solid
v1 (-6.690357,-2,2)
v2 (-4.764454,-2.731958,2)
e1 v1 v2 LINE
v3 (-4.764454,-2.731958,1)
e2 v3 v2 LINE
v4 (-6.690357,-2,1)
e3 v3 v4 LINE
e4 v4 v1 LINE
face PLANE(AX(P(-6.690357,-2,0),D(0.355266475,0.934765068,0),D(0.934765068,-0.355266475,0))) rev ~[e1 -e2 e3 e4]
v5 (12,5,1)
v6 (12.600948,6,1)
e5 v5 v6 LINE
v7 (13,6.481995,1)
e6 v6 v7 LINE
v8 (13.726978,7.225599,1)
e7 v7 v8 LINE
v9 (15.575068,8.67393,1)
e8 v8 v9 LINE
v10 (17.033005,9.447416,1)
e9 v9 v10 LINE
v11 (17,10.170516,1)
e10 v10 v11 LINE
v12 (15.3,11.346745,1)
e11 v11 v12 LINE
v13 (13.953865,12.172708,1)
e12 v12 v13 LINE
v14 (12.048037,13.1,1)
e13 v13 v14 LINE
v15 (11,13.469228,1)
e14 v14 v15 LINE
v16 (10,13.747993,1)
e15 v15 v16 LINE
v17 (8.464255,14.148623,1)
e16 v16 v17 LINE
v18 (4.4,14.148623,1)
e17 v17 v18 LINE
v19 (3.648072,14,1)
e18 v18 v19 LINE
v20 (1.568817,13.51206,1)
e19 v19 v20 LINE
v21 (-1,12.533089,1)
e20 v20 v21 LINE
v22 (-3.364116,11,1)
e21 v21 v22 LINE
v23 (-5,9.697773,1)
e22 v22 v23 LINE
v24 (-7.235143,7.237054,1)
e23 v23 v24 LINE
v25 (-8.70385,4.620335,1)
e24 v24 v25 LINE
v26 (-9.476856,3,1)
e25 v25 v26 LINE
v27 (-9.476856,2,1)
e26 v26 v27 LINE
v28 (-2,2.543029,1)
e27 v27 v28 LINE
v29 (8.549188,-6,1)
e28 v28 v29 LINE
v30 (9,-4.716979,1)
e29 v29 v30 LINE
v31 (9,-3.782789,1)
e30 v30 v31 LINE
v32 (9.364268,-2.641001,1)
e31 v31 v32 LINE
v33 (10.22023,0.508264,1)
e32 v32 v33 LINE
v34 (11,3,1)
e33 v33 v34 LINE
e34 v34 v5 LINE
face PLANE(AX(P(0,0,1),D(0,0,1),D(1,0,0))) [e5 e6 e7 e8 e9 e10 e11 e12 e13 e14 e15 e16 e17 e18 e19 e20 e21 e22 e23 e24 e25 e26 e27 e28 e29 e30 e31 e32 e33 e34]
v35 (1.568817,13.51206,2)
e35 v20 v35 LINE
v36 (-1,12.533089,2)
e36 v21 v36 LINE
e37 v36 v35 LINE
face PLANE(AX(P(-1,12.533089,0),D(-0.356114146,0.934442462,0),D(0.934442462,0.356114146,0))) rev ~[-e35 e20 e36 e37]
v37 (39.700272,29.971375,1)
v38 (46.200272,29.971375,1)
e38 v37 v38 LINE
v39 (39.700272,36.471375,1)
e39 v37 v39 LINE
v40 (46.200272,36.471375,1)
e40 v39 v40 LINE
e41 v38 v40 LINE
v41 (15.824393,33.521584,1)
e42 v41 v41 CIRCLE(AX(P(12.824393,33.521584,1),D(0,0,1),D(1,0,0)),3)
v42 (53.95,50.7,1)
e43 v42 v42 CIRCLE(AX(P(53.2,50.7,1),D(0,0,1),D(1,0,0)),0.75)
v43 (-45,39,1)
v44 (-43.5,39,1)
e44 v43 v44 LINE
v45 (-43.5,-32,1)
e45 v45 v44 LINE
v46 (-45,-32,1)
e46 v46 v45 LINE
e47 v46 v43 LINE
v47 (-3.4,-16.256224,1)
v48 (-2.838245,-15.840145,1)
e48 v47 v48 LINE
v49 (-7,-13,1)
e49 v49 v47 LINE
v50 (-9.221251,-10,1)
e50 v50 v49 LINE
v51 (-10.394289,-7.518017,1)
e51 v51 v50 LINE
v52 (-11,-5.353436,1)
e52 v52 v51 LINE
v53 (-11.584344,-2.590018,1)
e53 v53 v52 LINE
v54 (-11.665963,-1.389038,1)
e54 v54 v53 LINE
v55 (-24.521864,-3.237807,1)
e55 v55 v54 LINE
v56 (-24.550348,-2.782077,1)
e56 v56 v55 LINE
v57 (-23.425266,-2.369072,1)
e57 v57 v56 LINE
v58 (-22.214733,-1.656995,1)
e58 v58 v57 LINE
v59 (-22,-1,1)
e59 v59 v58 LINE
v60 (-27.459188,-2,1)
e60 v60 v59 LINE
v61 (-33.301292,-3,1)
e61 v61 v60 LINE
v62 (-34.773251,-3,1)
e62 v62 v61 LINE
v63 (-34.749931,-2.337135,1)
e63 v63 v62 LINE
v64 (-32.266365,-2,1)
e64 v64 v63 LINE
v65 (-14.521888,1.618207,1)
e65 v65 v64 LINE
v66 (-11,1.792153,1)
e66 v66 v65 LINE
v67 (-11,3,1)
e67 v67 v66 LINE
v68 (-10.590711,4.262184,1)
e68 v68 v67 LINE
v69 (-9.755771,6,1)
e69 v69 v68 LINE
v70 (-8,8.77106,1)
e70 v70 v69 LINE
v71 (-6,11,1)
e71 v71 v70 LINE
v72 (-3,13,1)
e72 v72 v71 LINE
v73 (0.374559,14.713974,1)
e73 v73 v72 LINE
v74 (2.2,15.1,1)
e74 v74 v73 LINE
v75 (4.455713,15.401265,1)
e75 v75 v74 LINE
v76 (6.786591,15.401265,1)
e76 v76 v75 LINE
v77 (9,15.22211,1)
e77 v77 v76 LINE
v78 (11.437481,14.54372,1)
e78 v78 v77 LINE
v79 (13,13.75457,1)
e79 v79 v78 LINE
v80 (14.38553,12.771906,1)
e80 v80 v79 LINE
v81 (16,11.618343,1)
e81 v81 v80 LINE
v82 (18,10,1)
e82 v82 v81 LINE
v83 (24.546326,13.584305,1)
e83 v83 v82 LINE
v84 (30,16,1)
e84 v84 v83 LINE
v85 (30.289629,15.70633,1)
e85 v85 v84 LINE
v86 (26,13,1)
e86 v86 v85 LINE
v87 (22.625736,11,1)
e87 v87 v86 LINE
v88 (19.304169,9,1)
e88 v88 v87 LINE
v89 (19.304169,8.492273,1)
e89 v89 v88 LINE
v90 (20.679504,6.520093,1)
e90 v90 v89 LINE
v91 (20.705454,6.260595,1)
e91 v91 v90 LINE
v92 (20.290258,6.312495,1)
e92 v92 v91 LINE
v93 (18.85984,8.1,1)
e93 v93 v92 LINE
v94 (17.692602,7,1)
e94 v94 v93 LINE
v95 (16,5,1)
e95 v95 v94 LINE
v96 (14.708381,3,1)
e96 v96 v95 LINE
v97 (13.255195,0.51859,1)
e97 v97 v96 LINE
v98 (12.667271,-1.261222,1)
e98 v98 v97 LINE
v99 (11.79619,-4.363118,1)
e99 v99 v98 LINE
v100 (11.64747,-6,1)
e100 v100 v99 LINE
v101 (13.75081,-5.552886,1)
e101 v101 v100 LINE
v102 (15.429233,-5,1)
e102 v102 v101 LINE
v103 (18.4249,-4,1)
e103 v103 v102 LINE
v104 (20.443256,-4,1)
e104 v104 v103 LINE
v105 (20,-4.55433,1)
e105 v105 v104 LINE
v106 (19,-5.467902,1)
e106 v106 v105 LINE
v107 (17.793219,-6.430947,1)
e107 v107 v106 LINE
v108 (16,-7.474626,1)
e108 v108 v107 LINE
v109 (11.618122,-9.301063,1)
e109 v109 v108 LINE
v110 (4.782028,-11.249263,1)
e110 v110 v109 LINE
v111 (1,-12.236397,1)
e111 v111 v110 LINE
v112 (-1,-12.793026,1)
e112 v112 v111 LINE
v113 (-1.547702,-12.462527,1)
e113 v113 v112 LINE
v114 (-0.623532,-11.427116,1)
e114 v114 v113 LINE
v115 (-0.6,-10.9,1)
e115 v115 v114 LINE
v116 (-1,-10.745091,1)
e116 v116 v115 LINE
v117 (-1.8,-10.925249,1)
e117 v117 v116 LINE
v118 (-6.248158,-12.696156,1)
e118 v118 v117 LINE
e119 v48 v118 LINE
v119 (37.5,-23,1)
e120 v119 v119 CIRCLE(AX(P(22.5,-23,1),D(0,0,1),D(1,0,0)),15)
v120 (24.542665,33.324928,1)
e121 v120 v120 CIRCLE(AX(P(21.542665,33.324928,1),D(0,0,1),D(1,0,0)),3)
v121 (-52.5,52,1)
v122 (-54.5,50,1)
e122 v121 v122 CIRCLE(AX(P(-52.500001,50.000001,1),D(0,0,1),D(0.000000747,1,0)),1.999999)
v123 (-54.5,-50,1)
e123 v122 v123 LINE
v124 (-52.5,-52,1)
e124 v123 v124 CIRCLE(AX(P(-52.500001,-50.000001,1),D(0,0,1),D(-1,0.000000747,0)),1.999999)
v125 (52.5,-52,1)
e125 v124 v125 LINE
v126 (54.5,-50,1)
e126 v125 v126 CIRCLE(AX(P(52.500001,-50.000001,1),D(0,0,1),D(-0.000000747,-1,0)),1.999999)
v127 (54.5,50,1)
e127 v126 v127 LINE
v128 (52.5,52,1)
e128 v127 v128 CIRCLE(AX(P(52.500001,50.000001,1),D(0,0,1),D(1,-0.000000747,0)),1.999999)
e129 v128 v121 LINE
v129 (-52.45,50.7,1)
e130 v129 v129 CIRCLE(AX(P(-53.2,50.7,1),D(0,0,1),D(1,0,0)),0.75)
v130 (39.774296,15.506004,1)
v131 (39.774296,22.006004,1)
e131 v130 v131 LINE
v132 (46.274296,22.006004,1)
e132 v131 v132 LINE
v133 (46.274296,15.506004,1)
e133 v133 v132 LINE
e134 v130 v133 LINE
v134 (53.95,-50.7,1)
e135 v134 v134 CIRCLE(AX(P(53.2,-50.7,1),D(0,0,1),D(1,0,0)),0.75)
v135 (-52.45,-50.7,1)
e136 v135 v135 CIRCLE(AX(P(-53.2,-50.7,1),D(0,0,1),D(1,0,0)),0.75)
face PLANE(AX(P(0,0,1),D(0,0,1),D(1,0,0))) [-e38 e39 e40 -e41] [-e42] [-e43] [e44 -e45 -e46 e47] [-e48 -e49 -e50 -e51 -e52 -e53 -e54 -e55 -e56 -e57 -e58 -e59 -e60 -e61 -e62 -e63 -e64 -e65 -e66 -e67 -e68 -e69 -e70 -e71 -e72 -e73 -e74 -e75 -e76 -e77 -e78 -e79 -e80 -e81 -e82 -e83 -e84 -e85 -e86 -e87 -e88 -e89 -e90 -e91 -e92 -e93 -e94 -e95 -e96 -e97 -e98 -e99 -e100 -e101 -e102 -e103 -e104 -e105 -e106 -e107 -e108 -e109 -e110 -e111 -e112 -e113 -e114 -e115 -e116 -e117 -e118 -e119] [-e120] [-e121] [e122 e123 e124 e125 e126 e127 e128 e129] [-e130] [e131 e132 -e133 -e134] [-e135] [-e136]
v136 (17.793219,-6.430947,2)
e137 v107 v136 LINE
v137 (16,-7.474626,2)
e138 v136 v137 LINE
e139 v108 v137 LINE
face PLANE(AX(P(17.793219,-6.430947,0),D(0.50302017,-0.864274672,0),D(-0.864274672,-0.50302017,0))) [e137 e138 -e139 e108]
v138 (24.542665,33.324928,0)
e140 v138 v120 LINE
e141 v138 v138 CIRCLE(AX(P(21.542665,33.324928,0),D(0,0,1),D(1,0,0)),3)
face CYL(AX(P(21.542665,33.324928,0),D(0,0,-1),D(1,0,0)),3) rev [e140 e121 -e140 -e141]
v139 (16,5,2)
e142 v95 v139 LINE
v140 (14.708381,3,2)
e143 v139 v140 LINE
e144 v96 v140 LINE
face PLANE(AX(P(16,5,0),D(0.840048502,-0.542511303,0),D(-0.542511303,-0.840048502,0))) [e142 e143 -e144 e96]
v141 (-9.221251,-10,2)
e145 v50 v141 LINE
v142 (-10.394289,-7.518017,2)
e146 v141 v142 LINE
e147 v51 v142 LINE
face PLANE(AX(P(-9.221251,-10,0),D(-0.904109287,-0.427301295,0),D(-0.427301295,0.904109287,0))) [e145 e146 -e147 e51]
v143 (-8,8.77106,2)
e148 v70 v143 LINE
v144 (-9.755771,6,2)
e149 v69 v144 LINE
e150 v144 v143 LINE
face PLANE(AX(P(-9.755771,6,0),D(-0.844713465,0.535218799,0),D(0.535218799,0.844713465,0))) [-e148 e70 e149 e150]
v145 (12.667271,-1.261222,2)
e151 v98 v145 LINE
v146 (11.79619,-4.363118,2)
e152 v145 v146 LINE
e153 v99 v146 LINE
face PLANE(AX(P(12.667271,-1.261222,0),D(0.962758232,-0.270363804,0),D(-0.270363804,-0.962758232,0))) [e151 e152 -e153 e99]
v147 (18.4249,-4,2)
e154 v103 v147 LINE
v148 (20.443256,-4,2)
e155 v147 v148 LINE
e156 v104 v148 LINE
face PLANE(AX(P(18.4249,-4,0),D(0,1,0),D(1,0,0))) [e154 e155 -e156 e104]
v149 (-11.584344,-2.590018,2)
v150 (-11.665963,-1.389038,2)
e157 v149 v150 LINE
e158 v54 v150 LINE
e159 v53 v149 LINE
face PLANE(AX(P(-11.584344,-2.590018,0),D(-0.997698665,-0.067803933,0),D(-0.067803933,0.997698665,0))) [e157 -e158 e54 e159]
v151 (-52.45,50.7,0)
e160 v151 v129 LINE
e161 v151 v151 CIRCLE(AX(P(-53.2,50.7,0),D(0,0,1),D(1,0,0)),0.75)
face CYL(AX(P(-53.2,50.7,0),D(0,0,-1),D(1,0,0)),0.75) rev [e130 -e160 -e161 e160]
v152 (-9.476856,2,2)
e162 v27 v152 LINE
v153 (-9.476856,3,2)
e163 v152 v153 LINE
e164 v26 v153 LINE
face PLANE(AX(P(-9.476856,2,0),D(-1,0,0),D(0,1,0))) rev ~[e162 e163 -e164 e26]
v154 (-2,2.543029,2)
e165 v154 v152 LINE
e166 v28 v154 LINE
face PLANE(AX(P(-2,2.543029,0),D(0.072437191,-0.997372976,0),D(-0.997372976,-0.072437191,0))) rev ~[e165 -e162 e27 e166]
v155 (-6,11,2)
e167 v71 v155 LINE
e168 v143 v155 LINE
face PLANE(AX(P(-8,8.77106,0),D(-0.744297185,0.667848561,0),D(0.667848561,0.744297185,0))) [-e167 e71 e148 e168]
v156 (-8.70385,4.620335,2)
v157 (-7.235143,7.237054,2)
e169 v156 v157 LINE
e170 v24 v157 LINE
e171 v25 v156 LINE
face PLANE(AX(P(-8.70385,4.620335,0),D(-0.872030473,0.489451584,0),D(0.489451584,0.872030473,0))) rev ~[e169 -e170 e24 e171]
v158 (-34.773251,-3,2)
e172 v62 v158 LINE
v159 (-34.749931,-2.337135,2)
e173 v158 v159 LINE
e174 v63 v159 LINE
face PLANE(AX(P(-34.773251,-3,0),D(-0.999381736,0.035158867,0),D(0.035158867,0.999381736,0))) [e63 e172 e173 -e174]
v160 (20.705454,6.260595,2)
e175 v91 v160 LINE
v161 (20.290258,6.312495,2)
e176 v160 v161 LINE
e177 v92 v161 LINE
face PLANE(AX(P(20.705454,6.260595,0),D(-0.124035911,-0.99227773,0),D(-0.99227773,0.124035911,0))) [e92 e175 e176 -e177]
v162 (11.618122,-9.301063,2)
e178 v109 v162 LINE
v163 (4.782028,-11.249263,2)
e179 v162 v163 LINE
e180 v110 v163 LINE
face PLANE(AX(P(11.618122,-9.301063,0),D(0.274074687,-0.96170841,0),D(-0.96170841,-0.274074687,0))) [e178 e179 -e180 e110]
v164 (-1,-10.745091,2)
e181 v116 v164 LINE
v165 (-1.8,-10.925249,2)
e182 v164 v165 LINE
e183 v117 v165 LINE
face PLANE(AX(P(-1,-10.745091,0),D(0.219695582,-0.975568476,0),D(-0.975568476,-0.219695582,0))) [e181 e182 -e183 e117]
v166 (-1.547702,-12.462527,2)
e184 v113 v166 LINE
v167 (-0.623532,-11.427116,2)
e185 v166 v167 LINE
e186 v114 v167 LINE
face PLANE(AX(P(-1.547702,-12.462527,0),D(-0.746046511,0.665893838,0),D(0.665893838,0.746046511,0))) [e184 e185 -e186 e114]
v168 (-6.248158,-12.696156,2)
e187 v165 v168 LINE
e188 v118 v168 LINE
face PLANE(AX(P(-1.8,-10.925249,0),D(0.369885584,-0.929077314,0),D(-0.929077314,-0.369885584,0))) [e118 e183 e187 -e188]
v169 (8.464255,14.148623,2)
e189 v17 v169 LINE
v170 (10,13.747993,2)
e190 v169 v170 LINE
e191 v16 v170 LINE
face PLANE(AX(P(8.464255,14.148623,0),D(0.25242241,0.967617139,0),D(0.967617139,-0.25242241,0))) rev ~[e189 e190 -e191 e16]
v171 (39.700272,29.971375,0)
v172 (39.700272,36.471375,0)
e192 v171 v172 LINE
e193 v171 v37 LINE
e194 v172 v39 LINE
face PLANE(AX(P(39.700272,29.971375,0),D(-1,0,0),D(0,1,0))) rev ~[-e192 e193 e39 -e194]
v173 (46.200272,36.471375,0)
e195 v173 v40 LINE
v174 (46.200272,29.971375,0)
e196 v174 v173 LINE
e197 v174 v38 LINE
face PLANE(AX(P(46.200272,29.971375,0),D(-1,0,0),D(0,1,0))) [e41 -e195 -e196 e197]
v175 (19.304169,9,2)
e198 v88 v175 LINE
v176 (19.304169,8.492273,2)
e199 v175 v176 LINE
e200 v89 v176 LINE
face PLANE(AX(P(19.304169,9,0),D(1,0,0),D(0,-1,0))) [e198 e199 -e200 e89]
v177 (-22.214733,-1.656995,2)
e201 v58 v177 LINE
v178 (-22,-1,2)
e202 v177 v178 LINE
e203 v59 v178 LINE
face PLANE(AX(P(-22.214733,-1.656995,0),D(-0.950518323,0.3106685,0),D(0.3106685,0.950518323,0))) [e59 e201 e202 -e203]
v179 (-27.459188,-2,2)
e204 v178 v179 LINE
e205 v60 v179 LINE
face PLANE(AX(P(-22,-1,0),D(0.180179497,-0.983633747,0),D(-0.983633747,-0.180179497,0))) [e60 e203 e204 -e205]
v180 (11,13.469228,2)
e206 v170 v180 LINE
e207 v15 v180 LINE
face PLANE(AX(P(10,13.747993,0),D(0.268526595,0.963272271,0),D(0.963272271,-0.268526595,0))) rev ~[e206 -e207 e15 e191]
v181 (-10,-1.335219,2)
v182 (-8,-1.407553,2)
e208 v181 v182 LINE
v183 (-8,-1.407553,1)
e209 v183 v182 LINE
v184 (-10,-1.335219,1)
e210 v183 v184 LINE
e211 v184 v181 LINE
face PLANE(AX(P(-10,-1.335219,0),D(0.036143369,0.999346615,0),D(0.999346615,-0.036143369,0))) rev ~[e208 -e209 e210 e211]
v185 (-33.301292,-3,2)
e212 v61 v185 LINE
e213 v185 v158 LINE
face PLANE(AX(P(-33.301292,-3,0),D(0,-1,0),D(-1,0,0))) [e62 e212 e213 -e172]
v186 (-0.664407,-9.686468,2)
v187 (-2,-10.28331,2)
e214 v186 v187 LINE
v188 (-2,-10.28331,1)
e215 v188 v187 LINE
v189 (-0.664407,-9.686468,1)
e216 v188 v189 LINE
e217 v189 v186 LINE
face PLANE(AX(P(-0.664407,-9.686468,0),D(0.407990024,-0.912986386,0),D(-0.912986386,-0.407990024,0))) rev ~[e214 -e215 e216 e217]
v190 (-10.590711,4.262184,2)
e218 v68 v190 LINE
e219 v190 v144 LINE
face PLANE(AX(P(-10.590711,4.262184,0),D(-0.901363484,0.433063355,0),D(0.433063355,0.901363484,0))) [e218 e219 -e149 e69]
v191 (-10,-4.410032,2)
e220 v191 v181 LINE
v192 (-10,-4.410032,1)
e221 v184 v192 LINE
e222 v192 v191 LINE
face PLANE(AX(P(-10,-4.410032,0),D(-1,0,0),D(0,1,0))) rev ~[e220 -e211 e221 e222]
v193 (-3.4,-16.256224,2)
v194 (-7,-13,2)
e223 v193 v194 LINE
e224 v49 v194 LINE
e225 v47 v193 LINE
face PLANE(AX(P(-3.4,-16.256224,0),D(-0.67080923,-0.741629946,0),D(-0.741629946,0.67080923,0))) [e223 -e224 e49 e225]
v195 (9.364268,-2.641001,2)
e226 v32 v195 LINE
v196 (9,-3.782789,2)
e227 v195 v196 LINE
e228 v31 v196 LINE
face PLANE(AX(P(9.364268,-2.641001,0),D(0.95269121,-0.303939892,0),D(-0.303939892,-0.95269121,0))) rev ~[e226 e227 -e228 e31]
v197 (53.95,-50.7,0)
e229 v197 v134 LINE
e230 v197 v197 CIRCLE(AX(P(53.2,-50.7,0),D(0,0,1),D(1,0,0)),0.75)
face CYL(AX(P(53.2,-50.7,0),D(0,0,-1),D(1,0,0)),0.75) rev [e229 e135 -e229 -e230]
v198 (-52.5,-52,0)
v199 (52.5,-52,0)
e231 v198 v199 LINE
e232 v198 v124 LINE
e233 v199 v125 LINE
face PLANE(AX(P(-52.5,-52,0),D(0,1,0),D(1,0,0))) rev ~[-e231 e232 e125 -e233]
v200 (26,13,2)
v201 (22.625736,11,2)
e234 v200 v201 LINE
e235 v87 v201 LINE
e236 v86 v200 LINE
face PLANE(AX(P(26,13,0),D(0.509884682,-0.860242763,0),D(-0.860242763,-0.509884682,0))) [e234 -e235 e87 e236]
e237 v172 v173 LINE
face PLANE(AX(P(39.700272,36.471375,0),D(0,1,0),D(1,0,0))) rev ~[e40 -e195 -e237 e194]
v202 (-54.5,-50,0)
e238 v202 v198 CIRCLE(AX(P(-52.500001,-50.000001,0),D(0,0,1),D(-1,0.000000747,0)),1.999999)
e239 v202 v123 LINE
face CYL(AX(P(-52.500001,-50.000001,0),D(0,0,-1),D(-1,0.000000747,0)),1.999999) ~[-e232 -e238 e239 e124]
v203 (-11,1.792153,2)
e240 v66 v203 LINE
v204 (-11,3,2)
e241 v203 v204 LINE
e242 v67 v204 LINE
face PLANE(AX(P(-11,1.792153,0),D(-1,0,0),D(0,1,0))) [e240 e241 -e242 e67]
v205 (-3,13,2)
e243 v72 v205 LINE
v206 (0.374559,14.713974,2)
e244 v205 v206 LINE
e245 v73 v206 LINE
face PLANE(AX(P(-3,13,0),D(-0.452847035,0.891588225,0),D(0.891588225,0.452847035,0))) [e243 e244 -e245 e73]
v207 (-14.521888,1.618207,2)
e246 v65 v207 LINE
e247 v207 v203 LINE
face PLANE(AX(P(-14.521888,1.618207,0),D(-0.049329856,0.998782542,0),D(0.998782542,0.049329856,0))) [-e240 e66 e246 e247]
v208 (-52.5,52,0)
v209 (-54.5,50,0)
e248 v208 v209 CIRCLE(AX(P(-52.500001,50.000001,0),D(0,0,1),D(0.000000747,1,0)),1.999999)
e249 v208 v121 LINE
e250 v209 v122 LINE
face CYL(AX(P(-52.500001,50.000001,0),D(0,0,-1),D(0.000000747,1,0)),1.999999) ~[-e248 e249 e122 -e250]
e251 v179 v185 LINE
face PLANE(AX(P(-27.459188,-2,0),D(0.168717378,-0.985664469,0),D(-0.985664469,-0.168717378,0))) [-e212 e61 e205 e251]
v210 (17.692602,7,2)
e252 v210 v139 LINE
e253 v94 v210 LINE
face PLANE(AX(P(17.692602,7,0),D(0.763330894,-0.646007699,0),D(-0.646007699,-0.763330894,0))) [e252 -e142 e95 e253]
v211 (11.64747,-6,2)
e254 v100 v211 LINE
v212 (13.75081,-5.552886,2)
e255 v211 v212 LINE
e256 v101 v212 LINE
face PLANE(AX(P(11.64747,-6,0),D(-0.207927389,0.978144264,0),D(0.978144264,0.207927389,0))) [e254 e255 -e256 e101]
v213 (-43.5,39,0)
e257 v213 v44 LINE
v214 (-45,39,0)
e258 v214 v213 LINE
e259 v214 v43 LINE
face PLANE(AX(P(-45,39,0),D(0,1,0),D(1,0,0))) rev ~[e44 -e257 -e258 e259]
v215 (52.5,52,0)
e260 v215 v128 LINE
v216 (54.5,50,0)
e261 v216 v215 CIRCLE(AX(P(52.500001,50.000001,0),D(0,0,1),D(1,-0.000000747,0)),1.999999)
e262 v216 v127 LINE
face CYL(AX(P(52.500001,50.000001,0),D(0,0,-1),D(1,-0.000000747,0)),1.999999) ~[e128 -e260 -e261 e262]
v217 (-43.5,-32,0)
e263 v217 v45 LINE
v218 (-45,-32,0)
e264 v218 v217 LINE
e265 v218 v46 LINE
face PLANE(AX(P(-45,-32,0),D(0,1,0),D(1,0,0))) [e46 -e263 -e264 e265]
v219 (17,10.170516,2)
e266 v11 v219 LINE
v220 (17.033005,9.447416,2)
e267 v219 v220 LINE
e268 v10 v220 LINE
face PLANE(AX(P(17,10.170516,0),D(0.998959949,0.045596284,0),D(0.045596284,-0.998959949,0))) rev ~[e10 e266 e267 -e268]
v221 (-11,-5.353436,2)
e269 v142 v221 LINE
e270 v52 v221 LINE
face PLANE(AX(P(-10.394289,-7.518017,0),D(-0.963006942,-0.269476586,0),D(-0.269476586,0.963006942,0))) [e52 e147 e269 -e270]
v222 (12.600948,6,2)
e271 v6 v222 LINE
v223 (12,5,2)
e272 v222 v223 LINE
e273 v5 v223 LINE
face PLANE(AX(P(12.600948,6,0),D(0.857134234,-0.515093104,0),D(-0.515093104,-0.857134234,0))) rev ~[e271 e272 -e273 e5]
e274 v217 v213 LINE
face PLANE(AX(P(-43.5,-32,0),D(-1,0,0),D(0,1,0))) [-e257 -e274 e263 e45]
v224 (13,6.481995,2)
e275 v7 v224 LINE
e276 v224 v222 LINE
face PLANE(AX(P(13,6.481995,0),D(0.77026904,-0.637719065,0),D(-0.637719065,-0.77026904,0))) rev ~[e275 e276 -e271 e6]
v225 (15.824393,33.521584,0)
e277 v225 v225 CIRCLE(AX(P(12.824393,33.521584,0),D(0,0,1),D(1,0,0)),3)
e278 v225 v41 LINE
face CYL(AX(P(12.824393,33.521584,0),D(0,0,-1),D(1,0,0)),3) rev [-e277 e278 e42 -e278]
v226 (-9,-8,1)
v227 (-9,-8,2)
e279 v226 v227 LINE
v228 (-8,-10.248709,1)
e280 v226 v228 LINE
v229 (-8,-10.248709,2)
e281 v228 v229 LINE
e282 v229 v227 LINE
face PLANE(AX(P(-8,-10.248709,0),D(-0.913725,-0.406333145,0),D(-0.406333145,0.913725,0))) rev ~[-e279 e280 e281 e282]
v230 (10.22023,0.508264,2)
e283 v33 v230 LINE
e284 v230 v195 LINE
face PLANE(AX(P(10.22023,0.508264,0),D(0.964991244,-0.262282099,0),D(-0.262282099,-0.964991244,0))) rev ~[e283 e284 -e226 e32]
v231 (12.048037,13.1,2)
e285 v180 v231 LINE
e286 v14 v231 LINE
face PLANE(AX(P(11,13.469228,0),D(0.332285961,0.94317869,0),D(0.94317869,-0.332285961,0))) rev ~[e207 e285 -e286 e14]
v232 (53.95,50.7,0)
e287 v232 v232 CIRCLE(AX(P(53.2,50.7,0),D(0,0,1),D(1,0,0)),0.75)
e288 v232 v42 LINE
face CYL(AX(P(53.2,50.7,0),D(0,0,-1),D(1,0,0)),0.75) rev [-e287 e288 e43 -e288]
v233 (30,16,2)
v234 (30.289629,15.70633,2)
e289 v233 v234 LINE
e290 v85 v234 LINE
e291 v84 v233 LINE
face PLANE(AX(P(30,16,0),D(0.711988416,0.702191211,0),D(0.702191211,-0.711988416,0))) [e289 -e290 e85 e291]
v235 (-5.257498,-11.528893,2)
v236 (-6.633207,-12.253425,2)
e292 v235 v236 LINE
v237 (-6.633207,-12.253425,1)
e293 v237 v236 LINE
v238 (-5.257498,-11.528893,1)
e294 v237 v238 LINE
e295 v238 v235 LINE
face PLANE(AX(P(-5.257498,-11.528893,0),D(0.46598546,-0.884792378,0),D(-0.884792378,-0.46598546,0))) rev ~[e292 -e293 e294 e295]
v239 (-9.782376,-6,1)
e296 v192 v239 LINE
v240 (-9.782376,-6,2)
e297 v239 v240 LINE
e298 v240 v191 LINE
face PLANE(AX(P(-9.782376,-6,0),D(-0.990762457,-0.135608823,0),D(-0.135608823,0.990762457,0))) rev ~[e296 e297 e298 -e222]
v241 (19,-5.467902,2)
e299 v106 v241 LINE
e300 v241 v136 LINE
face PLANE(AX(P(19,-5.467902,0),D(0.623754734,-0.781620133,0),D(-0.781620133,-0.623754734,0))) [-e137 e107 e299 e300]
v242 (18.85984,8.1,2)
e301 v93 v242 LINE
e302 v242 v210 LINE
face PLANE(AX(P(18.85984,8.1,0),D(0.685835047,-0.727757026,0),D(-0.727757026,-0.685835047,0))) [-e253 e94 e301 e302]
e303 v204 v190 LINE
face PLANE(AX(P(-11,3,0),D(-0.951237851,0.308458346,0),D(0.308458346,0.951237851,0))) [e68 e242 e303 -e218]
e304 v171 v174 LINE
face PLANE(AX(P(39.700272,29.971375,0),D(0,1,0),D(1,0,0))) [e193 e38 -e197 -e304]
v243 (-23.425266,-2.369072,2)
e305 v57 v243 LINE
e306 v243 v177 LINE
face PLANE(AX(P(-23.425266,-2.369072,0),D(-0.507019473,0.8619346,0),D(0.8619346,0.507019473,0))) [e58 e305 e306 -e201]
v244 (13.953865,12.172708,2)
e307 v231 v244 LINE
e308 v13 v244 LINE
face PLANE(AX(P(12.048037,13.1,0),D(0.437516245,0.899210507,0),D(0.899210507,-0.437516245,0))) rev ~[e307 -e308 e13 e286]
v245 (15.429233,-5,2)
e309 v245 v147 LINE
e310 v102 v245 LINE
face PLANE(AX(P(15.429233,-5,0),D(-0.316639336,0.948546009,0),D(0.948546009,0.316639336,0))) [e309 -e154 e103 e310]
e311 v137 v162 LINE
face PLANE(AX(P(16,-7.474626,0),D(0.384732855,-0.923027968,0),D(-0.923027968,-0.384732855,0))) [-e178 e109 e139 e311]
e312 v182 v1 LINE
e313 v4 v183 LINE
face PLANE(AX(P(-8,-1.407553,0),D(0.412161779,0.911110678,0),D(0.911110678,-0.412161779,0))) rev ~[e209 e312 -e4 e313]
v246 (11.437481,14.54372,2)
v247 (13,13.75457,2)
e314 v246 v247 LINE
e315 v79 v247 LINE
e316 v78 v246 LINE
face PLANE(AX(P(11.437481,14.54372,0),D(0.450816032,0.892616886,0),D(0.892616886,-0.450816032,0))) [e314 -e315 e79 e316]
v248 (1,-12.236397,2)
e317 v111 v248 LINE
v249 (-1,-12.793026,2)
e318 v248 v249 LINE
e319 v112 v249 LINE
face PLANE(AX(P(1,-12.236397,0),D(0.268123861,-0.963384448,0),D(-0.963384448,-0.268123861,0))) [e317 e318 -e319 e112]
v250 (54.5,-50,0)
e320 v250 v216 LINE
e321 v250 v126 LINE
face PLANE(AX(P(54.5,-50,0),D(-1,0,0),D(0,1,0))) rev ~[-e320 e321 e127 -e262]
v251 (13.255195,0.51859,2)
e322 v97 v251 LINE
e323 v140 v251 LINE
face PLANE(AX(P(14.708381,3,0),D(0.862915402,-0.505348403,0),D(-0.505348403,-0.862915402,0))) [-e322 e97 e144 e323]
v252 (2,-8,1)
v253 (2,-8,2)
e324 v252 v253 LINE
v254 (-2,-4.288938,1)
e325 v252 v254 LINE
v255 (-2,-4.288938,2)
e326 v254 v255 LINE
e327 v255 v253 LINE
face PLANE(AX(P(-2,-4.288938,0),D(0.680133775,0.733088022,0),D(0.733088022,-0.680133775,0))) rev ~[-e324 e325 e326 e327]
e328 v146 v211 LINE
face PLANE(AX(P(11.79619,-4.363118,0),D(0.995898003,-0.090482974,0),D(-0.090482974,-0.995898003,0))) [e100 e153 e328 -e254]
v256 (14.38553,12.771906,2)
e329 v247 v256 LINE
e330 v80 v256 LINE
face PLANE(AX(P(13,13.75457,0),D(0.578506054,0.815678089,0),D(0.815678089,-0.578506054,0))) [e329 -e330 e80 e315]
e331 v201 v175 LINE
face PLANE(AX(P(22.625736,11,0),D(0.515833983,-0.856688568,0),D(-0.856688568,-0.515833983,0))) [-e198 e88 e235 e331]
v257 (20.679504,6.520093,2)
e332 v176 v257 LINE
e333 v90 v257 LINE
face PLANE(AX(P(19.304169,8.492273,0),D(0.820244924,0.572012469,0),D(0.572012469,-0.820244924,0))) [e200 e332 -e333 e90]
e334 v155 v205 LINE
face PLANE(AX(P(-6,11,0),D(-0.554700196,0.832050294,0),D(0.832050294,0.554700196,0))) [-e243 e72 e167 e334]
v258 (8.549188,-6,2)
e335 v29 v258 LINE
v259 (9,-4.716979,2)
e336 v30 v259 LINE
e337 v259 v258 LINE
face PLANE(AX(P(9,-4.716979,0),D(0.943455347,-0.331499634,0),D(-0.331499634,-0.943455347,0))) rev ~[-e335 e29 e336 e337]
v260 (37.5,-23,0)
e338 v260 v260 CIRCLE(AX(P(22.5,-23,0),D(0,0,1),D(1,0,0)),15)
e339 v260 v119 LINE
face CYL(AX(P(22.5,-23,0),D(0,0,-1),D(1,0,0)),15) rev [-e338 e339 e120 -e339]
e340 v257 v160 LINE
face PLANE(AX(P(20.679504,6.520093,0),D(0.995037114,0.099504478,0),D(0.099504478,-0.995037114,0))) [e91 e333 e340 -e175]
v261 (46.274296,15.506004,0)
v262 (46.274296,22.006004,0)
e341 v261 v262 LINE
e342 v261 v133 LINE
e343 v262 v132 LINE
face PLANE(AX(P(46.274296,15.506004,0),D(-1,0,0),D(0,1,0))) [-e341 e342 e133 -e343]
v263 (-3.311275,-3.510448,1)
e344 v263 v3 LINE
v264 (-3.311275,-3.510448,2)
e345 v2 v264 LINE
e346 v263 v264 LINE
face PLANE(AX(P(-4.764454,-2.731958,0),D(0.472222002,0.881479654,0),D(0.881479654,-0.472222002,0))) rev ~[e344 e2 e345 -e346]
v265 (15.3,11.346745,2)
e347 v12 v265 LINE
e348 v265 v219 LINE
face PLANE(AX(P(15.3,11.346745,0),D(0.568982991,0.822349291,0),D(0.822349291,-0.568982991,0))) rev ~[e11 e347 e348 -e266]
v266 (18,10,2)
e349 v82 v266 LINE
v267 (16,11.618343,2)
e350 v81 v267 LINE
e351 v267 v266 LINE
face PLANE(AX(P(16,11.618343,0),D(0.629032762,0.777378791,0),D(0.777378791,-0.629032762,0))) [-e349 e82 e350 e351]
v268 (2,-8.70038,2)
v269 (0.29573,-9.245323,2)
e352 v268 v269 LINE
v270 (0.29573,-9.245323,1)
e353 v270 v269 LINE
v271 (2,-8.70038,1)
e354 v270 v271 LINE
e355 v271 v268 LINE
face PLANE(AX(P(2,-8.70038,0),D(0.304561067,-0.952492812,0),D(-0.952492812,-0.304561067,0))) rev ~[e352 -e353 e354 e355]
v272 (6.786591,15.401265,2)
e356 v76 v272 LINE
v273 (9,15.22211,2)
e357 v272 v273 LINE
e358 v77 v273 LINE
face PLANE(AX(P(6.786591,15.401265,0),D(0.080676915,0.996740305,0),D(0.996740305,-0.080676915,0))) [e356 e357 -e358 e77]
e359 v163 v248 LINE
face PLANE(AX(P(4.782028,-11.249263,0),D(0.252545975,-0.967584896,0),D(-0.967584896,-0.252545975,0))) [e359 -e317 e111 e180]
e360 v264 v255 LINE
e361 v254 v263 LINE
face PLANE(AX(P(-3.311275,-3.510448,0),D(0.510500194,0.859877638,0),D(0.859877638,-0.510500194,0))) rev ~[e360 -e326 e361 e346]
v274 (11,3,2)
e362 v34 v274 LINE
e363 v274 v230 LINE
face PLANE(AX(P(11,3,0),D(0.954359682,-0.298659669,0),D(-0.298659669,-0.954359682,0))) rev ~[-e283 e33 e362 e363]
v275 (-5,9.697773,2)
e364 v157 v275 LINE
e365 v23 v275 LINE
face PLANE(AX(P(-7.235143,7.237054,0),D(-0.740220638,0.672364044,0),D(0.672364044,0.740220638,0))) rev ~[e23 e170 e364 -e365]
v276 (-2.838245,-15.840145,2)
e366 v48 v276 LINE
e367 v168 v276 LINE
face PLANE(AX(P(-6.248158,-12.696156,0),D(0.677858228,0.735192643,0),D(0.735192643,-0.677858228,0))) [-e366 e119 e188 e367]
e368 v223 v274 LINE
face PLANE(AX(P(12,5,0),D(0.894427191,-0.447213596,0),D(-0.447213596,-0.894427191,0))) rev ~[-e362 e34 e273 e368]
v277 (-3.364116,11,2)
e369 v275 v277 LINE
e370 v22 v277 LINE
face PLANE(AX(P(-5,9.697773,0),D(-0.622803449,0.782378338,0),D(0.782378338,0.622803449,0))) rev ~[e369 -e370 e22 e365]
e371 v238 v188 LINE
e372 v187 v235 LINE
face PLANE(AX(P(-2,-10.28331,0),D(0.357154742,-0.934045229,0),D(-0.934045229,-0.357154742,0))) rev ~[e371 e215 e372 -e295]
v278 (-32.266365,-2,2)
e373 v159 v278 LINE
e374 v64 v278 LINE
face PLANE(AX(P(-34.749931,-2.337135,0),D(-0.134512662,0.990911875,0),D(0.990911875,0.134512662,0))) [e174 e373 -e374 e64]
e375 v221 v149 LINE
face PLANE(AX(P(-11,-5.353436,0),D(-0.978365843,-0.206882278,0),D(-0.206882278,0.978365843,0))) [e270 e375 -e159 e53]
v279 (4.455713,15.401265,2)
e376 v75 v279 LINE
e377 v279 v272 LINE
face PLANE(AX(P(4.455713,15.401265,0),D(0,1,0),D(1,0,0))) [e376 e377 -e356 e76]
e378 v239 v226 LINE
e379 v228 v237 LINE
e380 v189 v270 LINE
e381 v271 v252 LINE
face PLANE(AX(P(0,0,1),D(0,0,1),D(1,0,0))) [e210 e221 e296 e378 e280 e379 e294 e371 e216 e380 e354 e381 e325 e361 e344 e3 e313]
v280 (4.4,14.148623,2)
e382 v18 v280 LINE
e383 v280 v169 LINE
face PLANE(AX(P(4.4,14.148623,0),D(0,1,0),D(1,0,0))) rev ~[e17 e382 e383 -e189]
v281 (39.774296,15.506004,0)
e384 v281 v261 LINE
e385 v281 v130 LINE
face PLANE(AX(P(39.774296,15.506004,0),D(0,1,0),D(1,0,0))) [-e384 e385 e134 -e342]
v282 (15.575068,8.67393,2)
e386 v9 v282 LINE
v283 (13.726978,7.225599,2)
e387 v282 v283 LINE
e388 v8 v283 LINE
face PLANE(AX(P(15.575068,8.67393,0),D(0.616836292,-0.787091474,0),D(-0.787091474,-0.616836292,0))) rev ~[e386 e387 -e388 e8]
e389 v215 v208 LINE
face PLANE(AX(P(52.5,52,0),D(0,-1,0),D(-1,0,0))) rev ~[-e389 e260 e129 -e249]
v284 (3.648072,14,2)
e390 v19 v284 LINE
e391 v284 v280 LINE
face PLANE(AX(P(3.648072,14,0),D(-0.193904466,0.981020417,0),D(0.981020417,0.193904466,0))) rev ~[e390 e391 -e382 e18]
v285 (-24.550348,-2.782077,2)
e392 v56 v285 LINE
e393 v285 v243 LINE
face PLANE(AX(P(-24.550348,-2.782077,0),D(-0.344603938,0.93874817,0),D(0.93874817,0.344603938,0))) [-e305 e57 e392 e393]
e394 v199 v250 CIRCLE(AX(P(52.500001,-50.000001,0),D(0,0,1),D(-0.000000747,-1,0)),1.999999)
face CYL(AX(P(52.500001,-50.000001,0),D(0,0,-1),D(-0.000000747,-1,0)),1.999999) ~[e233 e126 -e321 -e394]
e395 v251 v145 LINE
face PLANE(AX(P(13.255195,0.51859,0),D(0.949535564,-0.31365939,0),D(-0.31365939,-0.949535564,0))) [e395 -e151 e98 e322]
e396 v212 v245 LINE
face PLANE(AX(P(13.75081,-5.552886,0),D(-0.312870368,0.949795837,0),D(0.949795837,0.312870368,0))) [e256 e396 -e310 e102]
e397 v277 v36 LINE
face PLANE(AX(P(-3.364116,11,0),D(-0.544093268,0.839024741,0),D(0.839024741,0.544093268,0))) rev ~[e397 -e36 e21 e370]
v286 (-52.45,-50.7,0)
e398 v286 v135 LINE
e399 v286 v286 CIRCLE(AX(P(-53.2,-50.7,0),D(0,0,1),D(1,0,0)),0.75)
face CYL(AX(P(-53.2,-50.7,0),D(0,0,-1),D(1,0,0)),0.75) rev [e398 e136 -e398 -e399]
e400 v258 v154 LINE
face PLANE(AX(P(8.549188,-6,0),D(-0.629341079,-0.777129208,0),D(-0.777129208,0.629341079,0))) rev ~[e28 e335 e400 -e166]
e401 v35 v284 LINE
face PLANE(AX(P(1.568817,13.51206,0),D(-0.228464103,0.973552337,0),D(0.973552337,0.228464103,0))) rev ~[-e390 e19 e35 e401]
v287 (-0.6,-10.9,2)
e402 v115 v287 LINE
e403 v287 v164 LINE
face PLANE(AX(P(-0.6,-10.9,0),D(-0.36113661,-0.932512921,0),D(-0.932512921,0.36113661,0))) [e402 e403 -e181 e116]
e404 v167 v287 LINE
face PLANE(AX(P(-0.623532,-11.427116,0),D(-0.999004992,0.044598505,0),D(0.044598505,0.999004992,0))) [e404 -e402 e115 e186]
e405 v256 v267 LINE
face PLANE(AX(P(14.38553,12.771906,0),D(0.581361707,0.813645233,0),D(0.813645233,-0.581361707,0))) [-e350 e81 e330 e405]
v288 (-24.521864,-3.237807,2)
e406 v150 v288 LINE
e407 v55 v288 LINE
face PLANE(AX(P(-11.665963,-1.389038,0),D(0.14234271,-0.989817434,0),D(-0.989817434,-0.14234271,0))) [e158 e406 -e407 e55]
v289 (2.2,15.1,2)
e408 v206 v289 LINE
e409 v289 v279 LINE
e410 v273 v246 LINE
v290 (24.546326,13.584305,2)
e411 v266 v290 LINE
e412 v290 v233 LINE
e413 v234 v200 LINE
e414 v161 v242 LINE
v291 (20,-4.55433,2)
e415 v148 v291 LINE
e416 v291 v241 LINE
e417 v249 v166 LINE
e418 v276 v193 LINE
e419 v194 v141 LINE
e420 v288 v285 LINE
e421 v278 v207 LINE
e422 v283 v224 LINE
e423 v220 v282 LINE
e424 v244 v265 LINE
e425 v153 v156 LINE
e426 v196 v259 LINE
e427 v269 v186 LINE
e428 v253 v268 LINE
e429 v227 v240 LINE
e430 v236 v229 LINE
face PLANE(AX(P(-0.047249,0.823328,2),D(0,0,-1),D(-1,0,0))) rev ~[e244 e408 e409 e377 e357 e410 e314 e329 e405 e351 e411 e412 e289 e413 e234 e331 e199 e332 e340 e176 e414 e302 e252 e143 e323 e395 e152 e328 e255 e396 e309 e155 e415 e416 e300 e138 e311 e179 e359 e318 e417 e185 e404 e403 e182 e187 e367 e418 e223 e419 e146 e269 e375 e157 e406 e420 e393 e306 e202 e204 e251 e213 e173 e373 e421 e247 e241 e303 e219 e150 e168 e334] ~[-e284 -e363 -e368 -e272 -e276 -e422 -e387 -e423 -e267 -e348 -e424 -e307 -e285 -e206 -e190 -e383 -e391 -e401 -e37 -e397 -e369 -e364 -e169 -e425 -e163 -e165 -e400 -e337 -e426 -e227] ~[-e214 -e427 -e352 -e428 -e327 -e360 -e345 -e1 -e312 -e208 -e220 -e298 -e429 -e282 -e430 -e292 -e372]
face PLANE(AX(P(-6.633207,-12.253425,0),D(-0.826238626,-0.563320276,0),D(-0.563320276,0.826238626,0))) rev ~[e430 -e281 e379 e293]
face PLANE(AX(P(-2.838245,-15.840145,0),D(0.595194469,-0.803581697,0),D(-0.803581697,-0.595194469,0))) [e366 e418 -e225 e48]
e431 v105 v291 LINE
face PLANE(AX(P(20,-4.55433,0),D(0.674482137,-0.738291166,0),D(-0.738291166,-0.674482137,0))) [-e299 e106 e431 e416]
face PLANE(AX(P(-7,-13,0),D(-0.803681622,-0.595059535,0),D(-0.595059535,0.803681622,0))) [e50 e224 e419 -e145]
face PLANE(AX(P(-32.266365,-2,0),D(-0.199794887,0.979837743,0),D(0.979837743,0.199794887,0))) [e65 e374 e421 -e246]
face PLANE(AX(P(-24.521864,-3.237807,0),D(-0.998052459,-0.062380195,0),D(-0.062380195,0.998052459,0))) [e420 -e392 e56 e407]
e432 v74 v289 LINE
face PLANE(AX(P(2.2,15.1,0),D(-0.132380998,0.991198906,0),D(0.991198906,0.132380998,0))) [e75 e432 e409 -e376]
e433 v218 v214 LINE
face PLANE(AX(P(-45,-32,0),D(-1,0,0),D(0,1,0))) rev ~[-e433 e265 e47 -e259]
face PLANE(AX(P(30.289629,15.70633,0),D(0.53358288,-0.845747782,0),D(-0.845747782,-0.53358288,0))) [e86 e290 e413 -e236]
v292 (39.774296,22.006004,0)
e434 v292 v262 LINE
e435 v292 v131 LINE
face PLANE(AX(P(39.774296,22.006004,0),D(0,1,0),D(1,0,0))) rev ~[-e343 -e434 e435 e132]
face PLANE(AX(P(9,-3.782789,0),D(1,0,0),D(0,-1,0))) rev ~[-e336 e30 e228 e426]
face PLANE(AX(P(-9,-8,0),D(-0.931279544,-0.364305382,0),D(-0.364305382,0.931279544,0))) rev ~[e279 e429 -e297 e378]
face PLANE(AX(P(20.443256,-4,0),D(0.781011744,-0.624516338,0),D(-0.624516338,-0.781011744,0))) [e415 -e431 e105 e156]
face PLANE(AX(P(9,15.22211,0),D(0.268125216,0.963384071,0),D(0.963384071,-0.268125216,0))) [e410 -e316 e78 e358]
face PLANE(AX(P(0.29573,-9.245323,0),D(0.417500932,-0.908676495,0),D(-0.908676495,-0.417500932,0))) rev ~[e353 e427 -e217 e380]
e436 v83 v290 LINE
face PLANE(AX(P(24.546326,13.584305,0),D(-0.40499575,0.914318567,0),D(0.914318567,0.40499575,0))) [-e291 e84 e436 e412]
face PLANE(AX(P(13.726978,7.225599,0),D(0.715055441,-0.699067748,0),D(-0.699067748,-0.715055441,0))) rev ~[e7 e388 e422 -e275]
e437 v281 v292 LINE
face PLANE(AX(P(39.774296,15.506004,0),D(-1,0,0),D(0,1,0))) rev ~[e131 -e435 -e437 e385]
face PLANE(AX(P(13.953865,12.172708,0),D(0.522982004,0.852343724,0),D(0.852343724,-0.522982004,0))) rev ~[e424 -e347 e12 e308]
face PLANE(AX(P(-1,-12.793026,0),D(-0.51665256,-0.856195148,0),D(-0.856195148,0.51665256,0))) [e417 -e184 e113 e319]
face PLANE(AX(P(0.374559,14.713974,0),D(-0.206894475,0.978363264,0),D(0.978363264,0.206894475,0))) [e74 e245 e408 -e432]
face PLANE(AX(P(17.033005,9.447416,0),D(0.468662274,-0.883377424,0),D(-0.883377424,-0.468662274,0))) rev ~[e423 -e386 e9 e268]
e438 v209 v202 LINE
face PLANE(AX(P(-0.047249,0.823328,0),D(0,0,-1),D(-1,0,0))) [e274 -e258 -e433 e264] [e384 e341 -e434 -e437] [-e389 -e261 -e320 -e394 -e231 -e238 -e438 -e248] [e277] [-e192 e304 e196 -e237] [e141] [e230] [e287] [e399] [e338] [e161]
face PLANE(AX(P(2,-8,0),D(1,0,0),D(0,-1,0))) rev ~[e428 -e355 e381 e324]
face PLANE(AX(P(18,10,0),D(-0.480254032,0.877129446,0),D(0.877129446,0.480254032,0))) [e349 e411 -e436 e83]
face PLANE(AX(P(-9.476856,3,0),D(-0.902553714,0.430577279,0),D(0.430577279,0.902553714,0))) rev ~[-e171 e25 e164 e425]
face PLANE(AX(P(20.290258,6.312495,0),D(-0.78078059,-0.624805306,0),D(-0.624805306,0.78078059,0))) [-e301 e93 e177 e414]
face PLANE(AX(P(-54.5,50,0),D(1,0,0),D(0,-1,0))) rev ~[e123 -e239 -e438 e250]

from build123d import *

# Parameters (mm, degrees)
SKETCH_R     = 0.75
SKETCH_R_2   = 15
SKETCH_R_3   = 3
SKETCH_W     = 1.5
SKETCH_H     = 71
SKETCH_W_2   = 6.5
SKETCH_H_2   = 6.5
PAD_DEPTH    = 1
PAD001_DEPTH = 2


with BuildPart() as part:
    # Sketch → Pad (new body)
    with BuildSketch(Plane.XY):
        with BuildLine():
            Line((-54.5, 50), (-54.5, -50))
            ThreePointArc((-54.5, -50), (-53.914214, -51.414214), (-52.5, -52))
            Line((-52.5, -52), (52.5, -52))
            ThreePointArc((52.5, -52), (53.914214, -51.414214), (54.5, -50))
            Line((54.5, -50), (54.5, 50))
            ThreePointArc((54.5, 50), (53.914214, 51.414214), (52.5, 52))
            Line((52.5, 52), (-52.5, 52))
            ThreePointArc((-52.5, 52), (-53.914214, 51.414214), (-54.5, 50))
        make_face()
        with Locations((-53.2, 50.7)):
            Circle(SKETCH_R, mode=Mode.SUBTRACT)
        with Locations((-53.2, -50.7)):
            Circle(SKETCH_R, mode=Mode.SUBTRACT)
        with Locations((53.2, -50.7)):
            Circle(SKETCH_R, mode=Mode.SUBTRACT)
        with Locations((53.2, 50.7)):
            Circle(SKETCH_R, mode=Mode.SUBTRACT)
        with Locations((22.5, -23)):
            Circle(SKETCH_R_2, mode=Mode.SUBTRACT)
        with Locations((12.824393, 33.521584)):
            Circle(SKETCH_R_3, mode=Mode.SUBTRACT)
        with Locations((21.542665, 33.324928)):
            Circle(SKETCH_R_3, mode=Mode.SUBTRACT)
        with Locations((-44.25, 3.5)):
            Rectangle(SKETCH_W, SKETCH_H, mode=Mode.SUBTRACT)
        with Locations((43.024296, 18.756004)):
            Rectangle(SKETCH_W_2, SKETCH_H_2, mode=Mode.SUBTRACT)
        with Locations((42.950272, 33.221375)):
            Rectangle(SKETCH_W_2, SKETCH_H_2, mode=Mode.SUBTRACT)
    extrude(amount=PAD_DEPTH)

    # Sketch002 → Pad001 (join)
    with BuildSketch(Plane.XY):
        Polygon((-34.773251, -3), (-34.749931, -2.337135), (-32.266365, -2), (-14.521888, 1.618207), (-11, 1.792153), (-11, 3), (-10.590711, 4.262184), (-9.755771, 6), (-8, 8.77106), (-6, 11), (-3, 13), (0.374559, 14.713974), (2.2, 15.1), (4.455713, 15.401265), (6.786591, 15.401265), (9, 15.22211), (11.437481, 14.54372), (13, 13.75457), (14.38553, 12.771906), (16, 11.618343), (18, 10), (24.546326, 13.584305), (30, 16), (30.289629, 15.70633), (26, 13), (22.625736, 11), (19.304169, 9), (19.304169, 8.492273), (20.679504, 6.520093), (20.705454, 6.260595), (20.290258, 6.312495), (18.85984, 8.1), (17.692602, 7), (16, 5), (14.708381, 3), (13.255195, 0.51859), (12.667271, -1.261222), (11.79619, -4.363118), (11.64747, -6), (13.75081, -5.552886), (15.429233, -5), (18.4249, -4), (20.443256, -4), (20, -4.55433), (19, -5.467902), (17.793219, -6.430947), (16, -7.474626), (11.618122, -9.301063), (4.782028, -11.249263), (1, -12.236397), (-1, -12.793026), (-1.547702, -12.462527), (-0.623532, -11.427116), (-0.6, -10.9), (-1, -10.745091), (-1.8, -10.925249), (-6.248158, -12.696156), (-2.838245, -15.840145), (-3.4, -16.256224), (-7, -13), (-9.221251, -10), (-10.394289, -7.518017), (-11, -5.353436), (-11.584344, -2.590018), (-11.665963, -1.389038), (-24.521864, -3.237807), (-24.550348, -2.782077), (-23.425266, -2.369072), (-22.214733, -1.656995), (-22, -1), (-27.459188, -2), (-33.301292, -3), align=None)
        Polygon((-10, -1.335219), (-8, -1.407553), (-6.690357, -2), (-4.764454, -2.731958), (-3.311275, -3.510448), (-2, -4.288938), (2, -8), (2, -8.466834), (2, -8.70038), (0.29573, -9.245323), (-0.664407, -9.686468), (-2, -10.28331), (-5.257498, -11.528893), (-6.633207, -12.253425), (-8, -10.248709), (-9, -8), (-9.782376, -6), (-10, -4.410032), align=None, mode=Mode.SUBTRACT)
        Polygon((-9.476856, 2), (-9.476856, 3), (-8.70385, 4.620335), (-7.235143, 7.237054), (-5, 9.697773), (-3.364116, 11), (-1, 12.533089), (1.568817, 13.51206), (3.648072, 14), (4.4, 14.148623), (7.4, 14.148623), (8.464255, 14.148623), (10, 13.747993), (11, 13.469228), (12.048037, 13.1), (13.953865, 12.172708), (15.3, 11.346745), (17, 10.170516), (17.033005, 9.447416), (15.575068, 8.67393), (13.726978, 7.225599), (13, 6.481995), (12.600948, 6), (12, 5), (11, 3), (10.22023, 0.508264), (9.364268, -2.641001), (9, -3.782789), (9, -4.716979), (8.549188, -6), (-2, 2.543029), align=None, mode=Mode.SUBTRACT)
    extrude(amount=PAD001_DEPTH)


solid = part.part
